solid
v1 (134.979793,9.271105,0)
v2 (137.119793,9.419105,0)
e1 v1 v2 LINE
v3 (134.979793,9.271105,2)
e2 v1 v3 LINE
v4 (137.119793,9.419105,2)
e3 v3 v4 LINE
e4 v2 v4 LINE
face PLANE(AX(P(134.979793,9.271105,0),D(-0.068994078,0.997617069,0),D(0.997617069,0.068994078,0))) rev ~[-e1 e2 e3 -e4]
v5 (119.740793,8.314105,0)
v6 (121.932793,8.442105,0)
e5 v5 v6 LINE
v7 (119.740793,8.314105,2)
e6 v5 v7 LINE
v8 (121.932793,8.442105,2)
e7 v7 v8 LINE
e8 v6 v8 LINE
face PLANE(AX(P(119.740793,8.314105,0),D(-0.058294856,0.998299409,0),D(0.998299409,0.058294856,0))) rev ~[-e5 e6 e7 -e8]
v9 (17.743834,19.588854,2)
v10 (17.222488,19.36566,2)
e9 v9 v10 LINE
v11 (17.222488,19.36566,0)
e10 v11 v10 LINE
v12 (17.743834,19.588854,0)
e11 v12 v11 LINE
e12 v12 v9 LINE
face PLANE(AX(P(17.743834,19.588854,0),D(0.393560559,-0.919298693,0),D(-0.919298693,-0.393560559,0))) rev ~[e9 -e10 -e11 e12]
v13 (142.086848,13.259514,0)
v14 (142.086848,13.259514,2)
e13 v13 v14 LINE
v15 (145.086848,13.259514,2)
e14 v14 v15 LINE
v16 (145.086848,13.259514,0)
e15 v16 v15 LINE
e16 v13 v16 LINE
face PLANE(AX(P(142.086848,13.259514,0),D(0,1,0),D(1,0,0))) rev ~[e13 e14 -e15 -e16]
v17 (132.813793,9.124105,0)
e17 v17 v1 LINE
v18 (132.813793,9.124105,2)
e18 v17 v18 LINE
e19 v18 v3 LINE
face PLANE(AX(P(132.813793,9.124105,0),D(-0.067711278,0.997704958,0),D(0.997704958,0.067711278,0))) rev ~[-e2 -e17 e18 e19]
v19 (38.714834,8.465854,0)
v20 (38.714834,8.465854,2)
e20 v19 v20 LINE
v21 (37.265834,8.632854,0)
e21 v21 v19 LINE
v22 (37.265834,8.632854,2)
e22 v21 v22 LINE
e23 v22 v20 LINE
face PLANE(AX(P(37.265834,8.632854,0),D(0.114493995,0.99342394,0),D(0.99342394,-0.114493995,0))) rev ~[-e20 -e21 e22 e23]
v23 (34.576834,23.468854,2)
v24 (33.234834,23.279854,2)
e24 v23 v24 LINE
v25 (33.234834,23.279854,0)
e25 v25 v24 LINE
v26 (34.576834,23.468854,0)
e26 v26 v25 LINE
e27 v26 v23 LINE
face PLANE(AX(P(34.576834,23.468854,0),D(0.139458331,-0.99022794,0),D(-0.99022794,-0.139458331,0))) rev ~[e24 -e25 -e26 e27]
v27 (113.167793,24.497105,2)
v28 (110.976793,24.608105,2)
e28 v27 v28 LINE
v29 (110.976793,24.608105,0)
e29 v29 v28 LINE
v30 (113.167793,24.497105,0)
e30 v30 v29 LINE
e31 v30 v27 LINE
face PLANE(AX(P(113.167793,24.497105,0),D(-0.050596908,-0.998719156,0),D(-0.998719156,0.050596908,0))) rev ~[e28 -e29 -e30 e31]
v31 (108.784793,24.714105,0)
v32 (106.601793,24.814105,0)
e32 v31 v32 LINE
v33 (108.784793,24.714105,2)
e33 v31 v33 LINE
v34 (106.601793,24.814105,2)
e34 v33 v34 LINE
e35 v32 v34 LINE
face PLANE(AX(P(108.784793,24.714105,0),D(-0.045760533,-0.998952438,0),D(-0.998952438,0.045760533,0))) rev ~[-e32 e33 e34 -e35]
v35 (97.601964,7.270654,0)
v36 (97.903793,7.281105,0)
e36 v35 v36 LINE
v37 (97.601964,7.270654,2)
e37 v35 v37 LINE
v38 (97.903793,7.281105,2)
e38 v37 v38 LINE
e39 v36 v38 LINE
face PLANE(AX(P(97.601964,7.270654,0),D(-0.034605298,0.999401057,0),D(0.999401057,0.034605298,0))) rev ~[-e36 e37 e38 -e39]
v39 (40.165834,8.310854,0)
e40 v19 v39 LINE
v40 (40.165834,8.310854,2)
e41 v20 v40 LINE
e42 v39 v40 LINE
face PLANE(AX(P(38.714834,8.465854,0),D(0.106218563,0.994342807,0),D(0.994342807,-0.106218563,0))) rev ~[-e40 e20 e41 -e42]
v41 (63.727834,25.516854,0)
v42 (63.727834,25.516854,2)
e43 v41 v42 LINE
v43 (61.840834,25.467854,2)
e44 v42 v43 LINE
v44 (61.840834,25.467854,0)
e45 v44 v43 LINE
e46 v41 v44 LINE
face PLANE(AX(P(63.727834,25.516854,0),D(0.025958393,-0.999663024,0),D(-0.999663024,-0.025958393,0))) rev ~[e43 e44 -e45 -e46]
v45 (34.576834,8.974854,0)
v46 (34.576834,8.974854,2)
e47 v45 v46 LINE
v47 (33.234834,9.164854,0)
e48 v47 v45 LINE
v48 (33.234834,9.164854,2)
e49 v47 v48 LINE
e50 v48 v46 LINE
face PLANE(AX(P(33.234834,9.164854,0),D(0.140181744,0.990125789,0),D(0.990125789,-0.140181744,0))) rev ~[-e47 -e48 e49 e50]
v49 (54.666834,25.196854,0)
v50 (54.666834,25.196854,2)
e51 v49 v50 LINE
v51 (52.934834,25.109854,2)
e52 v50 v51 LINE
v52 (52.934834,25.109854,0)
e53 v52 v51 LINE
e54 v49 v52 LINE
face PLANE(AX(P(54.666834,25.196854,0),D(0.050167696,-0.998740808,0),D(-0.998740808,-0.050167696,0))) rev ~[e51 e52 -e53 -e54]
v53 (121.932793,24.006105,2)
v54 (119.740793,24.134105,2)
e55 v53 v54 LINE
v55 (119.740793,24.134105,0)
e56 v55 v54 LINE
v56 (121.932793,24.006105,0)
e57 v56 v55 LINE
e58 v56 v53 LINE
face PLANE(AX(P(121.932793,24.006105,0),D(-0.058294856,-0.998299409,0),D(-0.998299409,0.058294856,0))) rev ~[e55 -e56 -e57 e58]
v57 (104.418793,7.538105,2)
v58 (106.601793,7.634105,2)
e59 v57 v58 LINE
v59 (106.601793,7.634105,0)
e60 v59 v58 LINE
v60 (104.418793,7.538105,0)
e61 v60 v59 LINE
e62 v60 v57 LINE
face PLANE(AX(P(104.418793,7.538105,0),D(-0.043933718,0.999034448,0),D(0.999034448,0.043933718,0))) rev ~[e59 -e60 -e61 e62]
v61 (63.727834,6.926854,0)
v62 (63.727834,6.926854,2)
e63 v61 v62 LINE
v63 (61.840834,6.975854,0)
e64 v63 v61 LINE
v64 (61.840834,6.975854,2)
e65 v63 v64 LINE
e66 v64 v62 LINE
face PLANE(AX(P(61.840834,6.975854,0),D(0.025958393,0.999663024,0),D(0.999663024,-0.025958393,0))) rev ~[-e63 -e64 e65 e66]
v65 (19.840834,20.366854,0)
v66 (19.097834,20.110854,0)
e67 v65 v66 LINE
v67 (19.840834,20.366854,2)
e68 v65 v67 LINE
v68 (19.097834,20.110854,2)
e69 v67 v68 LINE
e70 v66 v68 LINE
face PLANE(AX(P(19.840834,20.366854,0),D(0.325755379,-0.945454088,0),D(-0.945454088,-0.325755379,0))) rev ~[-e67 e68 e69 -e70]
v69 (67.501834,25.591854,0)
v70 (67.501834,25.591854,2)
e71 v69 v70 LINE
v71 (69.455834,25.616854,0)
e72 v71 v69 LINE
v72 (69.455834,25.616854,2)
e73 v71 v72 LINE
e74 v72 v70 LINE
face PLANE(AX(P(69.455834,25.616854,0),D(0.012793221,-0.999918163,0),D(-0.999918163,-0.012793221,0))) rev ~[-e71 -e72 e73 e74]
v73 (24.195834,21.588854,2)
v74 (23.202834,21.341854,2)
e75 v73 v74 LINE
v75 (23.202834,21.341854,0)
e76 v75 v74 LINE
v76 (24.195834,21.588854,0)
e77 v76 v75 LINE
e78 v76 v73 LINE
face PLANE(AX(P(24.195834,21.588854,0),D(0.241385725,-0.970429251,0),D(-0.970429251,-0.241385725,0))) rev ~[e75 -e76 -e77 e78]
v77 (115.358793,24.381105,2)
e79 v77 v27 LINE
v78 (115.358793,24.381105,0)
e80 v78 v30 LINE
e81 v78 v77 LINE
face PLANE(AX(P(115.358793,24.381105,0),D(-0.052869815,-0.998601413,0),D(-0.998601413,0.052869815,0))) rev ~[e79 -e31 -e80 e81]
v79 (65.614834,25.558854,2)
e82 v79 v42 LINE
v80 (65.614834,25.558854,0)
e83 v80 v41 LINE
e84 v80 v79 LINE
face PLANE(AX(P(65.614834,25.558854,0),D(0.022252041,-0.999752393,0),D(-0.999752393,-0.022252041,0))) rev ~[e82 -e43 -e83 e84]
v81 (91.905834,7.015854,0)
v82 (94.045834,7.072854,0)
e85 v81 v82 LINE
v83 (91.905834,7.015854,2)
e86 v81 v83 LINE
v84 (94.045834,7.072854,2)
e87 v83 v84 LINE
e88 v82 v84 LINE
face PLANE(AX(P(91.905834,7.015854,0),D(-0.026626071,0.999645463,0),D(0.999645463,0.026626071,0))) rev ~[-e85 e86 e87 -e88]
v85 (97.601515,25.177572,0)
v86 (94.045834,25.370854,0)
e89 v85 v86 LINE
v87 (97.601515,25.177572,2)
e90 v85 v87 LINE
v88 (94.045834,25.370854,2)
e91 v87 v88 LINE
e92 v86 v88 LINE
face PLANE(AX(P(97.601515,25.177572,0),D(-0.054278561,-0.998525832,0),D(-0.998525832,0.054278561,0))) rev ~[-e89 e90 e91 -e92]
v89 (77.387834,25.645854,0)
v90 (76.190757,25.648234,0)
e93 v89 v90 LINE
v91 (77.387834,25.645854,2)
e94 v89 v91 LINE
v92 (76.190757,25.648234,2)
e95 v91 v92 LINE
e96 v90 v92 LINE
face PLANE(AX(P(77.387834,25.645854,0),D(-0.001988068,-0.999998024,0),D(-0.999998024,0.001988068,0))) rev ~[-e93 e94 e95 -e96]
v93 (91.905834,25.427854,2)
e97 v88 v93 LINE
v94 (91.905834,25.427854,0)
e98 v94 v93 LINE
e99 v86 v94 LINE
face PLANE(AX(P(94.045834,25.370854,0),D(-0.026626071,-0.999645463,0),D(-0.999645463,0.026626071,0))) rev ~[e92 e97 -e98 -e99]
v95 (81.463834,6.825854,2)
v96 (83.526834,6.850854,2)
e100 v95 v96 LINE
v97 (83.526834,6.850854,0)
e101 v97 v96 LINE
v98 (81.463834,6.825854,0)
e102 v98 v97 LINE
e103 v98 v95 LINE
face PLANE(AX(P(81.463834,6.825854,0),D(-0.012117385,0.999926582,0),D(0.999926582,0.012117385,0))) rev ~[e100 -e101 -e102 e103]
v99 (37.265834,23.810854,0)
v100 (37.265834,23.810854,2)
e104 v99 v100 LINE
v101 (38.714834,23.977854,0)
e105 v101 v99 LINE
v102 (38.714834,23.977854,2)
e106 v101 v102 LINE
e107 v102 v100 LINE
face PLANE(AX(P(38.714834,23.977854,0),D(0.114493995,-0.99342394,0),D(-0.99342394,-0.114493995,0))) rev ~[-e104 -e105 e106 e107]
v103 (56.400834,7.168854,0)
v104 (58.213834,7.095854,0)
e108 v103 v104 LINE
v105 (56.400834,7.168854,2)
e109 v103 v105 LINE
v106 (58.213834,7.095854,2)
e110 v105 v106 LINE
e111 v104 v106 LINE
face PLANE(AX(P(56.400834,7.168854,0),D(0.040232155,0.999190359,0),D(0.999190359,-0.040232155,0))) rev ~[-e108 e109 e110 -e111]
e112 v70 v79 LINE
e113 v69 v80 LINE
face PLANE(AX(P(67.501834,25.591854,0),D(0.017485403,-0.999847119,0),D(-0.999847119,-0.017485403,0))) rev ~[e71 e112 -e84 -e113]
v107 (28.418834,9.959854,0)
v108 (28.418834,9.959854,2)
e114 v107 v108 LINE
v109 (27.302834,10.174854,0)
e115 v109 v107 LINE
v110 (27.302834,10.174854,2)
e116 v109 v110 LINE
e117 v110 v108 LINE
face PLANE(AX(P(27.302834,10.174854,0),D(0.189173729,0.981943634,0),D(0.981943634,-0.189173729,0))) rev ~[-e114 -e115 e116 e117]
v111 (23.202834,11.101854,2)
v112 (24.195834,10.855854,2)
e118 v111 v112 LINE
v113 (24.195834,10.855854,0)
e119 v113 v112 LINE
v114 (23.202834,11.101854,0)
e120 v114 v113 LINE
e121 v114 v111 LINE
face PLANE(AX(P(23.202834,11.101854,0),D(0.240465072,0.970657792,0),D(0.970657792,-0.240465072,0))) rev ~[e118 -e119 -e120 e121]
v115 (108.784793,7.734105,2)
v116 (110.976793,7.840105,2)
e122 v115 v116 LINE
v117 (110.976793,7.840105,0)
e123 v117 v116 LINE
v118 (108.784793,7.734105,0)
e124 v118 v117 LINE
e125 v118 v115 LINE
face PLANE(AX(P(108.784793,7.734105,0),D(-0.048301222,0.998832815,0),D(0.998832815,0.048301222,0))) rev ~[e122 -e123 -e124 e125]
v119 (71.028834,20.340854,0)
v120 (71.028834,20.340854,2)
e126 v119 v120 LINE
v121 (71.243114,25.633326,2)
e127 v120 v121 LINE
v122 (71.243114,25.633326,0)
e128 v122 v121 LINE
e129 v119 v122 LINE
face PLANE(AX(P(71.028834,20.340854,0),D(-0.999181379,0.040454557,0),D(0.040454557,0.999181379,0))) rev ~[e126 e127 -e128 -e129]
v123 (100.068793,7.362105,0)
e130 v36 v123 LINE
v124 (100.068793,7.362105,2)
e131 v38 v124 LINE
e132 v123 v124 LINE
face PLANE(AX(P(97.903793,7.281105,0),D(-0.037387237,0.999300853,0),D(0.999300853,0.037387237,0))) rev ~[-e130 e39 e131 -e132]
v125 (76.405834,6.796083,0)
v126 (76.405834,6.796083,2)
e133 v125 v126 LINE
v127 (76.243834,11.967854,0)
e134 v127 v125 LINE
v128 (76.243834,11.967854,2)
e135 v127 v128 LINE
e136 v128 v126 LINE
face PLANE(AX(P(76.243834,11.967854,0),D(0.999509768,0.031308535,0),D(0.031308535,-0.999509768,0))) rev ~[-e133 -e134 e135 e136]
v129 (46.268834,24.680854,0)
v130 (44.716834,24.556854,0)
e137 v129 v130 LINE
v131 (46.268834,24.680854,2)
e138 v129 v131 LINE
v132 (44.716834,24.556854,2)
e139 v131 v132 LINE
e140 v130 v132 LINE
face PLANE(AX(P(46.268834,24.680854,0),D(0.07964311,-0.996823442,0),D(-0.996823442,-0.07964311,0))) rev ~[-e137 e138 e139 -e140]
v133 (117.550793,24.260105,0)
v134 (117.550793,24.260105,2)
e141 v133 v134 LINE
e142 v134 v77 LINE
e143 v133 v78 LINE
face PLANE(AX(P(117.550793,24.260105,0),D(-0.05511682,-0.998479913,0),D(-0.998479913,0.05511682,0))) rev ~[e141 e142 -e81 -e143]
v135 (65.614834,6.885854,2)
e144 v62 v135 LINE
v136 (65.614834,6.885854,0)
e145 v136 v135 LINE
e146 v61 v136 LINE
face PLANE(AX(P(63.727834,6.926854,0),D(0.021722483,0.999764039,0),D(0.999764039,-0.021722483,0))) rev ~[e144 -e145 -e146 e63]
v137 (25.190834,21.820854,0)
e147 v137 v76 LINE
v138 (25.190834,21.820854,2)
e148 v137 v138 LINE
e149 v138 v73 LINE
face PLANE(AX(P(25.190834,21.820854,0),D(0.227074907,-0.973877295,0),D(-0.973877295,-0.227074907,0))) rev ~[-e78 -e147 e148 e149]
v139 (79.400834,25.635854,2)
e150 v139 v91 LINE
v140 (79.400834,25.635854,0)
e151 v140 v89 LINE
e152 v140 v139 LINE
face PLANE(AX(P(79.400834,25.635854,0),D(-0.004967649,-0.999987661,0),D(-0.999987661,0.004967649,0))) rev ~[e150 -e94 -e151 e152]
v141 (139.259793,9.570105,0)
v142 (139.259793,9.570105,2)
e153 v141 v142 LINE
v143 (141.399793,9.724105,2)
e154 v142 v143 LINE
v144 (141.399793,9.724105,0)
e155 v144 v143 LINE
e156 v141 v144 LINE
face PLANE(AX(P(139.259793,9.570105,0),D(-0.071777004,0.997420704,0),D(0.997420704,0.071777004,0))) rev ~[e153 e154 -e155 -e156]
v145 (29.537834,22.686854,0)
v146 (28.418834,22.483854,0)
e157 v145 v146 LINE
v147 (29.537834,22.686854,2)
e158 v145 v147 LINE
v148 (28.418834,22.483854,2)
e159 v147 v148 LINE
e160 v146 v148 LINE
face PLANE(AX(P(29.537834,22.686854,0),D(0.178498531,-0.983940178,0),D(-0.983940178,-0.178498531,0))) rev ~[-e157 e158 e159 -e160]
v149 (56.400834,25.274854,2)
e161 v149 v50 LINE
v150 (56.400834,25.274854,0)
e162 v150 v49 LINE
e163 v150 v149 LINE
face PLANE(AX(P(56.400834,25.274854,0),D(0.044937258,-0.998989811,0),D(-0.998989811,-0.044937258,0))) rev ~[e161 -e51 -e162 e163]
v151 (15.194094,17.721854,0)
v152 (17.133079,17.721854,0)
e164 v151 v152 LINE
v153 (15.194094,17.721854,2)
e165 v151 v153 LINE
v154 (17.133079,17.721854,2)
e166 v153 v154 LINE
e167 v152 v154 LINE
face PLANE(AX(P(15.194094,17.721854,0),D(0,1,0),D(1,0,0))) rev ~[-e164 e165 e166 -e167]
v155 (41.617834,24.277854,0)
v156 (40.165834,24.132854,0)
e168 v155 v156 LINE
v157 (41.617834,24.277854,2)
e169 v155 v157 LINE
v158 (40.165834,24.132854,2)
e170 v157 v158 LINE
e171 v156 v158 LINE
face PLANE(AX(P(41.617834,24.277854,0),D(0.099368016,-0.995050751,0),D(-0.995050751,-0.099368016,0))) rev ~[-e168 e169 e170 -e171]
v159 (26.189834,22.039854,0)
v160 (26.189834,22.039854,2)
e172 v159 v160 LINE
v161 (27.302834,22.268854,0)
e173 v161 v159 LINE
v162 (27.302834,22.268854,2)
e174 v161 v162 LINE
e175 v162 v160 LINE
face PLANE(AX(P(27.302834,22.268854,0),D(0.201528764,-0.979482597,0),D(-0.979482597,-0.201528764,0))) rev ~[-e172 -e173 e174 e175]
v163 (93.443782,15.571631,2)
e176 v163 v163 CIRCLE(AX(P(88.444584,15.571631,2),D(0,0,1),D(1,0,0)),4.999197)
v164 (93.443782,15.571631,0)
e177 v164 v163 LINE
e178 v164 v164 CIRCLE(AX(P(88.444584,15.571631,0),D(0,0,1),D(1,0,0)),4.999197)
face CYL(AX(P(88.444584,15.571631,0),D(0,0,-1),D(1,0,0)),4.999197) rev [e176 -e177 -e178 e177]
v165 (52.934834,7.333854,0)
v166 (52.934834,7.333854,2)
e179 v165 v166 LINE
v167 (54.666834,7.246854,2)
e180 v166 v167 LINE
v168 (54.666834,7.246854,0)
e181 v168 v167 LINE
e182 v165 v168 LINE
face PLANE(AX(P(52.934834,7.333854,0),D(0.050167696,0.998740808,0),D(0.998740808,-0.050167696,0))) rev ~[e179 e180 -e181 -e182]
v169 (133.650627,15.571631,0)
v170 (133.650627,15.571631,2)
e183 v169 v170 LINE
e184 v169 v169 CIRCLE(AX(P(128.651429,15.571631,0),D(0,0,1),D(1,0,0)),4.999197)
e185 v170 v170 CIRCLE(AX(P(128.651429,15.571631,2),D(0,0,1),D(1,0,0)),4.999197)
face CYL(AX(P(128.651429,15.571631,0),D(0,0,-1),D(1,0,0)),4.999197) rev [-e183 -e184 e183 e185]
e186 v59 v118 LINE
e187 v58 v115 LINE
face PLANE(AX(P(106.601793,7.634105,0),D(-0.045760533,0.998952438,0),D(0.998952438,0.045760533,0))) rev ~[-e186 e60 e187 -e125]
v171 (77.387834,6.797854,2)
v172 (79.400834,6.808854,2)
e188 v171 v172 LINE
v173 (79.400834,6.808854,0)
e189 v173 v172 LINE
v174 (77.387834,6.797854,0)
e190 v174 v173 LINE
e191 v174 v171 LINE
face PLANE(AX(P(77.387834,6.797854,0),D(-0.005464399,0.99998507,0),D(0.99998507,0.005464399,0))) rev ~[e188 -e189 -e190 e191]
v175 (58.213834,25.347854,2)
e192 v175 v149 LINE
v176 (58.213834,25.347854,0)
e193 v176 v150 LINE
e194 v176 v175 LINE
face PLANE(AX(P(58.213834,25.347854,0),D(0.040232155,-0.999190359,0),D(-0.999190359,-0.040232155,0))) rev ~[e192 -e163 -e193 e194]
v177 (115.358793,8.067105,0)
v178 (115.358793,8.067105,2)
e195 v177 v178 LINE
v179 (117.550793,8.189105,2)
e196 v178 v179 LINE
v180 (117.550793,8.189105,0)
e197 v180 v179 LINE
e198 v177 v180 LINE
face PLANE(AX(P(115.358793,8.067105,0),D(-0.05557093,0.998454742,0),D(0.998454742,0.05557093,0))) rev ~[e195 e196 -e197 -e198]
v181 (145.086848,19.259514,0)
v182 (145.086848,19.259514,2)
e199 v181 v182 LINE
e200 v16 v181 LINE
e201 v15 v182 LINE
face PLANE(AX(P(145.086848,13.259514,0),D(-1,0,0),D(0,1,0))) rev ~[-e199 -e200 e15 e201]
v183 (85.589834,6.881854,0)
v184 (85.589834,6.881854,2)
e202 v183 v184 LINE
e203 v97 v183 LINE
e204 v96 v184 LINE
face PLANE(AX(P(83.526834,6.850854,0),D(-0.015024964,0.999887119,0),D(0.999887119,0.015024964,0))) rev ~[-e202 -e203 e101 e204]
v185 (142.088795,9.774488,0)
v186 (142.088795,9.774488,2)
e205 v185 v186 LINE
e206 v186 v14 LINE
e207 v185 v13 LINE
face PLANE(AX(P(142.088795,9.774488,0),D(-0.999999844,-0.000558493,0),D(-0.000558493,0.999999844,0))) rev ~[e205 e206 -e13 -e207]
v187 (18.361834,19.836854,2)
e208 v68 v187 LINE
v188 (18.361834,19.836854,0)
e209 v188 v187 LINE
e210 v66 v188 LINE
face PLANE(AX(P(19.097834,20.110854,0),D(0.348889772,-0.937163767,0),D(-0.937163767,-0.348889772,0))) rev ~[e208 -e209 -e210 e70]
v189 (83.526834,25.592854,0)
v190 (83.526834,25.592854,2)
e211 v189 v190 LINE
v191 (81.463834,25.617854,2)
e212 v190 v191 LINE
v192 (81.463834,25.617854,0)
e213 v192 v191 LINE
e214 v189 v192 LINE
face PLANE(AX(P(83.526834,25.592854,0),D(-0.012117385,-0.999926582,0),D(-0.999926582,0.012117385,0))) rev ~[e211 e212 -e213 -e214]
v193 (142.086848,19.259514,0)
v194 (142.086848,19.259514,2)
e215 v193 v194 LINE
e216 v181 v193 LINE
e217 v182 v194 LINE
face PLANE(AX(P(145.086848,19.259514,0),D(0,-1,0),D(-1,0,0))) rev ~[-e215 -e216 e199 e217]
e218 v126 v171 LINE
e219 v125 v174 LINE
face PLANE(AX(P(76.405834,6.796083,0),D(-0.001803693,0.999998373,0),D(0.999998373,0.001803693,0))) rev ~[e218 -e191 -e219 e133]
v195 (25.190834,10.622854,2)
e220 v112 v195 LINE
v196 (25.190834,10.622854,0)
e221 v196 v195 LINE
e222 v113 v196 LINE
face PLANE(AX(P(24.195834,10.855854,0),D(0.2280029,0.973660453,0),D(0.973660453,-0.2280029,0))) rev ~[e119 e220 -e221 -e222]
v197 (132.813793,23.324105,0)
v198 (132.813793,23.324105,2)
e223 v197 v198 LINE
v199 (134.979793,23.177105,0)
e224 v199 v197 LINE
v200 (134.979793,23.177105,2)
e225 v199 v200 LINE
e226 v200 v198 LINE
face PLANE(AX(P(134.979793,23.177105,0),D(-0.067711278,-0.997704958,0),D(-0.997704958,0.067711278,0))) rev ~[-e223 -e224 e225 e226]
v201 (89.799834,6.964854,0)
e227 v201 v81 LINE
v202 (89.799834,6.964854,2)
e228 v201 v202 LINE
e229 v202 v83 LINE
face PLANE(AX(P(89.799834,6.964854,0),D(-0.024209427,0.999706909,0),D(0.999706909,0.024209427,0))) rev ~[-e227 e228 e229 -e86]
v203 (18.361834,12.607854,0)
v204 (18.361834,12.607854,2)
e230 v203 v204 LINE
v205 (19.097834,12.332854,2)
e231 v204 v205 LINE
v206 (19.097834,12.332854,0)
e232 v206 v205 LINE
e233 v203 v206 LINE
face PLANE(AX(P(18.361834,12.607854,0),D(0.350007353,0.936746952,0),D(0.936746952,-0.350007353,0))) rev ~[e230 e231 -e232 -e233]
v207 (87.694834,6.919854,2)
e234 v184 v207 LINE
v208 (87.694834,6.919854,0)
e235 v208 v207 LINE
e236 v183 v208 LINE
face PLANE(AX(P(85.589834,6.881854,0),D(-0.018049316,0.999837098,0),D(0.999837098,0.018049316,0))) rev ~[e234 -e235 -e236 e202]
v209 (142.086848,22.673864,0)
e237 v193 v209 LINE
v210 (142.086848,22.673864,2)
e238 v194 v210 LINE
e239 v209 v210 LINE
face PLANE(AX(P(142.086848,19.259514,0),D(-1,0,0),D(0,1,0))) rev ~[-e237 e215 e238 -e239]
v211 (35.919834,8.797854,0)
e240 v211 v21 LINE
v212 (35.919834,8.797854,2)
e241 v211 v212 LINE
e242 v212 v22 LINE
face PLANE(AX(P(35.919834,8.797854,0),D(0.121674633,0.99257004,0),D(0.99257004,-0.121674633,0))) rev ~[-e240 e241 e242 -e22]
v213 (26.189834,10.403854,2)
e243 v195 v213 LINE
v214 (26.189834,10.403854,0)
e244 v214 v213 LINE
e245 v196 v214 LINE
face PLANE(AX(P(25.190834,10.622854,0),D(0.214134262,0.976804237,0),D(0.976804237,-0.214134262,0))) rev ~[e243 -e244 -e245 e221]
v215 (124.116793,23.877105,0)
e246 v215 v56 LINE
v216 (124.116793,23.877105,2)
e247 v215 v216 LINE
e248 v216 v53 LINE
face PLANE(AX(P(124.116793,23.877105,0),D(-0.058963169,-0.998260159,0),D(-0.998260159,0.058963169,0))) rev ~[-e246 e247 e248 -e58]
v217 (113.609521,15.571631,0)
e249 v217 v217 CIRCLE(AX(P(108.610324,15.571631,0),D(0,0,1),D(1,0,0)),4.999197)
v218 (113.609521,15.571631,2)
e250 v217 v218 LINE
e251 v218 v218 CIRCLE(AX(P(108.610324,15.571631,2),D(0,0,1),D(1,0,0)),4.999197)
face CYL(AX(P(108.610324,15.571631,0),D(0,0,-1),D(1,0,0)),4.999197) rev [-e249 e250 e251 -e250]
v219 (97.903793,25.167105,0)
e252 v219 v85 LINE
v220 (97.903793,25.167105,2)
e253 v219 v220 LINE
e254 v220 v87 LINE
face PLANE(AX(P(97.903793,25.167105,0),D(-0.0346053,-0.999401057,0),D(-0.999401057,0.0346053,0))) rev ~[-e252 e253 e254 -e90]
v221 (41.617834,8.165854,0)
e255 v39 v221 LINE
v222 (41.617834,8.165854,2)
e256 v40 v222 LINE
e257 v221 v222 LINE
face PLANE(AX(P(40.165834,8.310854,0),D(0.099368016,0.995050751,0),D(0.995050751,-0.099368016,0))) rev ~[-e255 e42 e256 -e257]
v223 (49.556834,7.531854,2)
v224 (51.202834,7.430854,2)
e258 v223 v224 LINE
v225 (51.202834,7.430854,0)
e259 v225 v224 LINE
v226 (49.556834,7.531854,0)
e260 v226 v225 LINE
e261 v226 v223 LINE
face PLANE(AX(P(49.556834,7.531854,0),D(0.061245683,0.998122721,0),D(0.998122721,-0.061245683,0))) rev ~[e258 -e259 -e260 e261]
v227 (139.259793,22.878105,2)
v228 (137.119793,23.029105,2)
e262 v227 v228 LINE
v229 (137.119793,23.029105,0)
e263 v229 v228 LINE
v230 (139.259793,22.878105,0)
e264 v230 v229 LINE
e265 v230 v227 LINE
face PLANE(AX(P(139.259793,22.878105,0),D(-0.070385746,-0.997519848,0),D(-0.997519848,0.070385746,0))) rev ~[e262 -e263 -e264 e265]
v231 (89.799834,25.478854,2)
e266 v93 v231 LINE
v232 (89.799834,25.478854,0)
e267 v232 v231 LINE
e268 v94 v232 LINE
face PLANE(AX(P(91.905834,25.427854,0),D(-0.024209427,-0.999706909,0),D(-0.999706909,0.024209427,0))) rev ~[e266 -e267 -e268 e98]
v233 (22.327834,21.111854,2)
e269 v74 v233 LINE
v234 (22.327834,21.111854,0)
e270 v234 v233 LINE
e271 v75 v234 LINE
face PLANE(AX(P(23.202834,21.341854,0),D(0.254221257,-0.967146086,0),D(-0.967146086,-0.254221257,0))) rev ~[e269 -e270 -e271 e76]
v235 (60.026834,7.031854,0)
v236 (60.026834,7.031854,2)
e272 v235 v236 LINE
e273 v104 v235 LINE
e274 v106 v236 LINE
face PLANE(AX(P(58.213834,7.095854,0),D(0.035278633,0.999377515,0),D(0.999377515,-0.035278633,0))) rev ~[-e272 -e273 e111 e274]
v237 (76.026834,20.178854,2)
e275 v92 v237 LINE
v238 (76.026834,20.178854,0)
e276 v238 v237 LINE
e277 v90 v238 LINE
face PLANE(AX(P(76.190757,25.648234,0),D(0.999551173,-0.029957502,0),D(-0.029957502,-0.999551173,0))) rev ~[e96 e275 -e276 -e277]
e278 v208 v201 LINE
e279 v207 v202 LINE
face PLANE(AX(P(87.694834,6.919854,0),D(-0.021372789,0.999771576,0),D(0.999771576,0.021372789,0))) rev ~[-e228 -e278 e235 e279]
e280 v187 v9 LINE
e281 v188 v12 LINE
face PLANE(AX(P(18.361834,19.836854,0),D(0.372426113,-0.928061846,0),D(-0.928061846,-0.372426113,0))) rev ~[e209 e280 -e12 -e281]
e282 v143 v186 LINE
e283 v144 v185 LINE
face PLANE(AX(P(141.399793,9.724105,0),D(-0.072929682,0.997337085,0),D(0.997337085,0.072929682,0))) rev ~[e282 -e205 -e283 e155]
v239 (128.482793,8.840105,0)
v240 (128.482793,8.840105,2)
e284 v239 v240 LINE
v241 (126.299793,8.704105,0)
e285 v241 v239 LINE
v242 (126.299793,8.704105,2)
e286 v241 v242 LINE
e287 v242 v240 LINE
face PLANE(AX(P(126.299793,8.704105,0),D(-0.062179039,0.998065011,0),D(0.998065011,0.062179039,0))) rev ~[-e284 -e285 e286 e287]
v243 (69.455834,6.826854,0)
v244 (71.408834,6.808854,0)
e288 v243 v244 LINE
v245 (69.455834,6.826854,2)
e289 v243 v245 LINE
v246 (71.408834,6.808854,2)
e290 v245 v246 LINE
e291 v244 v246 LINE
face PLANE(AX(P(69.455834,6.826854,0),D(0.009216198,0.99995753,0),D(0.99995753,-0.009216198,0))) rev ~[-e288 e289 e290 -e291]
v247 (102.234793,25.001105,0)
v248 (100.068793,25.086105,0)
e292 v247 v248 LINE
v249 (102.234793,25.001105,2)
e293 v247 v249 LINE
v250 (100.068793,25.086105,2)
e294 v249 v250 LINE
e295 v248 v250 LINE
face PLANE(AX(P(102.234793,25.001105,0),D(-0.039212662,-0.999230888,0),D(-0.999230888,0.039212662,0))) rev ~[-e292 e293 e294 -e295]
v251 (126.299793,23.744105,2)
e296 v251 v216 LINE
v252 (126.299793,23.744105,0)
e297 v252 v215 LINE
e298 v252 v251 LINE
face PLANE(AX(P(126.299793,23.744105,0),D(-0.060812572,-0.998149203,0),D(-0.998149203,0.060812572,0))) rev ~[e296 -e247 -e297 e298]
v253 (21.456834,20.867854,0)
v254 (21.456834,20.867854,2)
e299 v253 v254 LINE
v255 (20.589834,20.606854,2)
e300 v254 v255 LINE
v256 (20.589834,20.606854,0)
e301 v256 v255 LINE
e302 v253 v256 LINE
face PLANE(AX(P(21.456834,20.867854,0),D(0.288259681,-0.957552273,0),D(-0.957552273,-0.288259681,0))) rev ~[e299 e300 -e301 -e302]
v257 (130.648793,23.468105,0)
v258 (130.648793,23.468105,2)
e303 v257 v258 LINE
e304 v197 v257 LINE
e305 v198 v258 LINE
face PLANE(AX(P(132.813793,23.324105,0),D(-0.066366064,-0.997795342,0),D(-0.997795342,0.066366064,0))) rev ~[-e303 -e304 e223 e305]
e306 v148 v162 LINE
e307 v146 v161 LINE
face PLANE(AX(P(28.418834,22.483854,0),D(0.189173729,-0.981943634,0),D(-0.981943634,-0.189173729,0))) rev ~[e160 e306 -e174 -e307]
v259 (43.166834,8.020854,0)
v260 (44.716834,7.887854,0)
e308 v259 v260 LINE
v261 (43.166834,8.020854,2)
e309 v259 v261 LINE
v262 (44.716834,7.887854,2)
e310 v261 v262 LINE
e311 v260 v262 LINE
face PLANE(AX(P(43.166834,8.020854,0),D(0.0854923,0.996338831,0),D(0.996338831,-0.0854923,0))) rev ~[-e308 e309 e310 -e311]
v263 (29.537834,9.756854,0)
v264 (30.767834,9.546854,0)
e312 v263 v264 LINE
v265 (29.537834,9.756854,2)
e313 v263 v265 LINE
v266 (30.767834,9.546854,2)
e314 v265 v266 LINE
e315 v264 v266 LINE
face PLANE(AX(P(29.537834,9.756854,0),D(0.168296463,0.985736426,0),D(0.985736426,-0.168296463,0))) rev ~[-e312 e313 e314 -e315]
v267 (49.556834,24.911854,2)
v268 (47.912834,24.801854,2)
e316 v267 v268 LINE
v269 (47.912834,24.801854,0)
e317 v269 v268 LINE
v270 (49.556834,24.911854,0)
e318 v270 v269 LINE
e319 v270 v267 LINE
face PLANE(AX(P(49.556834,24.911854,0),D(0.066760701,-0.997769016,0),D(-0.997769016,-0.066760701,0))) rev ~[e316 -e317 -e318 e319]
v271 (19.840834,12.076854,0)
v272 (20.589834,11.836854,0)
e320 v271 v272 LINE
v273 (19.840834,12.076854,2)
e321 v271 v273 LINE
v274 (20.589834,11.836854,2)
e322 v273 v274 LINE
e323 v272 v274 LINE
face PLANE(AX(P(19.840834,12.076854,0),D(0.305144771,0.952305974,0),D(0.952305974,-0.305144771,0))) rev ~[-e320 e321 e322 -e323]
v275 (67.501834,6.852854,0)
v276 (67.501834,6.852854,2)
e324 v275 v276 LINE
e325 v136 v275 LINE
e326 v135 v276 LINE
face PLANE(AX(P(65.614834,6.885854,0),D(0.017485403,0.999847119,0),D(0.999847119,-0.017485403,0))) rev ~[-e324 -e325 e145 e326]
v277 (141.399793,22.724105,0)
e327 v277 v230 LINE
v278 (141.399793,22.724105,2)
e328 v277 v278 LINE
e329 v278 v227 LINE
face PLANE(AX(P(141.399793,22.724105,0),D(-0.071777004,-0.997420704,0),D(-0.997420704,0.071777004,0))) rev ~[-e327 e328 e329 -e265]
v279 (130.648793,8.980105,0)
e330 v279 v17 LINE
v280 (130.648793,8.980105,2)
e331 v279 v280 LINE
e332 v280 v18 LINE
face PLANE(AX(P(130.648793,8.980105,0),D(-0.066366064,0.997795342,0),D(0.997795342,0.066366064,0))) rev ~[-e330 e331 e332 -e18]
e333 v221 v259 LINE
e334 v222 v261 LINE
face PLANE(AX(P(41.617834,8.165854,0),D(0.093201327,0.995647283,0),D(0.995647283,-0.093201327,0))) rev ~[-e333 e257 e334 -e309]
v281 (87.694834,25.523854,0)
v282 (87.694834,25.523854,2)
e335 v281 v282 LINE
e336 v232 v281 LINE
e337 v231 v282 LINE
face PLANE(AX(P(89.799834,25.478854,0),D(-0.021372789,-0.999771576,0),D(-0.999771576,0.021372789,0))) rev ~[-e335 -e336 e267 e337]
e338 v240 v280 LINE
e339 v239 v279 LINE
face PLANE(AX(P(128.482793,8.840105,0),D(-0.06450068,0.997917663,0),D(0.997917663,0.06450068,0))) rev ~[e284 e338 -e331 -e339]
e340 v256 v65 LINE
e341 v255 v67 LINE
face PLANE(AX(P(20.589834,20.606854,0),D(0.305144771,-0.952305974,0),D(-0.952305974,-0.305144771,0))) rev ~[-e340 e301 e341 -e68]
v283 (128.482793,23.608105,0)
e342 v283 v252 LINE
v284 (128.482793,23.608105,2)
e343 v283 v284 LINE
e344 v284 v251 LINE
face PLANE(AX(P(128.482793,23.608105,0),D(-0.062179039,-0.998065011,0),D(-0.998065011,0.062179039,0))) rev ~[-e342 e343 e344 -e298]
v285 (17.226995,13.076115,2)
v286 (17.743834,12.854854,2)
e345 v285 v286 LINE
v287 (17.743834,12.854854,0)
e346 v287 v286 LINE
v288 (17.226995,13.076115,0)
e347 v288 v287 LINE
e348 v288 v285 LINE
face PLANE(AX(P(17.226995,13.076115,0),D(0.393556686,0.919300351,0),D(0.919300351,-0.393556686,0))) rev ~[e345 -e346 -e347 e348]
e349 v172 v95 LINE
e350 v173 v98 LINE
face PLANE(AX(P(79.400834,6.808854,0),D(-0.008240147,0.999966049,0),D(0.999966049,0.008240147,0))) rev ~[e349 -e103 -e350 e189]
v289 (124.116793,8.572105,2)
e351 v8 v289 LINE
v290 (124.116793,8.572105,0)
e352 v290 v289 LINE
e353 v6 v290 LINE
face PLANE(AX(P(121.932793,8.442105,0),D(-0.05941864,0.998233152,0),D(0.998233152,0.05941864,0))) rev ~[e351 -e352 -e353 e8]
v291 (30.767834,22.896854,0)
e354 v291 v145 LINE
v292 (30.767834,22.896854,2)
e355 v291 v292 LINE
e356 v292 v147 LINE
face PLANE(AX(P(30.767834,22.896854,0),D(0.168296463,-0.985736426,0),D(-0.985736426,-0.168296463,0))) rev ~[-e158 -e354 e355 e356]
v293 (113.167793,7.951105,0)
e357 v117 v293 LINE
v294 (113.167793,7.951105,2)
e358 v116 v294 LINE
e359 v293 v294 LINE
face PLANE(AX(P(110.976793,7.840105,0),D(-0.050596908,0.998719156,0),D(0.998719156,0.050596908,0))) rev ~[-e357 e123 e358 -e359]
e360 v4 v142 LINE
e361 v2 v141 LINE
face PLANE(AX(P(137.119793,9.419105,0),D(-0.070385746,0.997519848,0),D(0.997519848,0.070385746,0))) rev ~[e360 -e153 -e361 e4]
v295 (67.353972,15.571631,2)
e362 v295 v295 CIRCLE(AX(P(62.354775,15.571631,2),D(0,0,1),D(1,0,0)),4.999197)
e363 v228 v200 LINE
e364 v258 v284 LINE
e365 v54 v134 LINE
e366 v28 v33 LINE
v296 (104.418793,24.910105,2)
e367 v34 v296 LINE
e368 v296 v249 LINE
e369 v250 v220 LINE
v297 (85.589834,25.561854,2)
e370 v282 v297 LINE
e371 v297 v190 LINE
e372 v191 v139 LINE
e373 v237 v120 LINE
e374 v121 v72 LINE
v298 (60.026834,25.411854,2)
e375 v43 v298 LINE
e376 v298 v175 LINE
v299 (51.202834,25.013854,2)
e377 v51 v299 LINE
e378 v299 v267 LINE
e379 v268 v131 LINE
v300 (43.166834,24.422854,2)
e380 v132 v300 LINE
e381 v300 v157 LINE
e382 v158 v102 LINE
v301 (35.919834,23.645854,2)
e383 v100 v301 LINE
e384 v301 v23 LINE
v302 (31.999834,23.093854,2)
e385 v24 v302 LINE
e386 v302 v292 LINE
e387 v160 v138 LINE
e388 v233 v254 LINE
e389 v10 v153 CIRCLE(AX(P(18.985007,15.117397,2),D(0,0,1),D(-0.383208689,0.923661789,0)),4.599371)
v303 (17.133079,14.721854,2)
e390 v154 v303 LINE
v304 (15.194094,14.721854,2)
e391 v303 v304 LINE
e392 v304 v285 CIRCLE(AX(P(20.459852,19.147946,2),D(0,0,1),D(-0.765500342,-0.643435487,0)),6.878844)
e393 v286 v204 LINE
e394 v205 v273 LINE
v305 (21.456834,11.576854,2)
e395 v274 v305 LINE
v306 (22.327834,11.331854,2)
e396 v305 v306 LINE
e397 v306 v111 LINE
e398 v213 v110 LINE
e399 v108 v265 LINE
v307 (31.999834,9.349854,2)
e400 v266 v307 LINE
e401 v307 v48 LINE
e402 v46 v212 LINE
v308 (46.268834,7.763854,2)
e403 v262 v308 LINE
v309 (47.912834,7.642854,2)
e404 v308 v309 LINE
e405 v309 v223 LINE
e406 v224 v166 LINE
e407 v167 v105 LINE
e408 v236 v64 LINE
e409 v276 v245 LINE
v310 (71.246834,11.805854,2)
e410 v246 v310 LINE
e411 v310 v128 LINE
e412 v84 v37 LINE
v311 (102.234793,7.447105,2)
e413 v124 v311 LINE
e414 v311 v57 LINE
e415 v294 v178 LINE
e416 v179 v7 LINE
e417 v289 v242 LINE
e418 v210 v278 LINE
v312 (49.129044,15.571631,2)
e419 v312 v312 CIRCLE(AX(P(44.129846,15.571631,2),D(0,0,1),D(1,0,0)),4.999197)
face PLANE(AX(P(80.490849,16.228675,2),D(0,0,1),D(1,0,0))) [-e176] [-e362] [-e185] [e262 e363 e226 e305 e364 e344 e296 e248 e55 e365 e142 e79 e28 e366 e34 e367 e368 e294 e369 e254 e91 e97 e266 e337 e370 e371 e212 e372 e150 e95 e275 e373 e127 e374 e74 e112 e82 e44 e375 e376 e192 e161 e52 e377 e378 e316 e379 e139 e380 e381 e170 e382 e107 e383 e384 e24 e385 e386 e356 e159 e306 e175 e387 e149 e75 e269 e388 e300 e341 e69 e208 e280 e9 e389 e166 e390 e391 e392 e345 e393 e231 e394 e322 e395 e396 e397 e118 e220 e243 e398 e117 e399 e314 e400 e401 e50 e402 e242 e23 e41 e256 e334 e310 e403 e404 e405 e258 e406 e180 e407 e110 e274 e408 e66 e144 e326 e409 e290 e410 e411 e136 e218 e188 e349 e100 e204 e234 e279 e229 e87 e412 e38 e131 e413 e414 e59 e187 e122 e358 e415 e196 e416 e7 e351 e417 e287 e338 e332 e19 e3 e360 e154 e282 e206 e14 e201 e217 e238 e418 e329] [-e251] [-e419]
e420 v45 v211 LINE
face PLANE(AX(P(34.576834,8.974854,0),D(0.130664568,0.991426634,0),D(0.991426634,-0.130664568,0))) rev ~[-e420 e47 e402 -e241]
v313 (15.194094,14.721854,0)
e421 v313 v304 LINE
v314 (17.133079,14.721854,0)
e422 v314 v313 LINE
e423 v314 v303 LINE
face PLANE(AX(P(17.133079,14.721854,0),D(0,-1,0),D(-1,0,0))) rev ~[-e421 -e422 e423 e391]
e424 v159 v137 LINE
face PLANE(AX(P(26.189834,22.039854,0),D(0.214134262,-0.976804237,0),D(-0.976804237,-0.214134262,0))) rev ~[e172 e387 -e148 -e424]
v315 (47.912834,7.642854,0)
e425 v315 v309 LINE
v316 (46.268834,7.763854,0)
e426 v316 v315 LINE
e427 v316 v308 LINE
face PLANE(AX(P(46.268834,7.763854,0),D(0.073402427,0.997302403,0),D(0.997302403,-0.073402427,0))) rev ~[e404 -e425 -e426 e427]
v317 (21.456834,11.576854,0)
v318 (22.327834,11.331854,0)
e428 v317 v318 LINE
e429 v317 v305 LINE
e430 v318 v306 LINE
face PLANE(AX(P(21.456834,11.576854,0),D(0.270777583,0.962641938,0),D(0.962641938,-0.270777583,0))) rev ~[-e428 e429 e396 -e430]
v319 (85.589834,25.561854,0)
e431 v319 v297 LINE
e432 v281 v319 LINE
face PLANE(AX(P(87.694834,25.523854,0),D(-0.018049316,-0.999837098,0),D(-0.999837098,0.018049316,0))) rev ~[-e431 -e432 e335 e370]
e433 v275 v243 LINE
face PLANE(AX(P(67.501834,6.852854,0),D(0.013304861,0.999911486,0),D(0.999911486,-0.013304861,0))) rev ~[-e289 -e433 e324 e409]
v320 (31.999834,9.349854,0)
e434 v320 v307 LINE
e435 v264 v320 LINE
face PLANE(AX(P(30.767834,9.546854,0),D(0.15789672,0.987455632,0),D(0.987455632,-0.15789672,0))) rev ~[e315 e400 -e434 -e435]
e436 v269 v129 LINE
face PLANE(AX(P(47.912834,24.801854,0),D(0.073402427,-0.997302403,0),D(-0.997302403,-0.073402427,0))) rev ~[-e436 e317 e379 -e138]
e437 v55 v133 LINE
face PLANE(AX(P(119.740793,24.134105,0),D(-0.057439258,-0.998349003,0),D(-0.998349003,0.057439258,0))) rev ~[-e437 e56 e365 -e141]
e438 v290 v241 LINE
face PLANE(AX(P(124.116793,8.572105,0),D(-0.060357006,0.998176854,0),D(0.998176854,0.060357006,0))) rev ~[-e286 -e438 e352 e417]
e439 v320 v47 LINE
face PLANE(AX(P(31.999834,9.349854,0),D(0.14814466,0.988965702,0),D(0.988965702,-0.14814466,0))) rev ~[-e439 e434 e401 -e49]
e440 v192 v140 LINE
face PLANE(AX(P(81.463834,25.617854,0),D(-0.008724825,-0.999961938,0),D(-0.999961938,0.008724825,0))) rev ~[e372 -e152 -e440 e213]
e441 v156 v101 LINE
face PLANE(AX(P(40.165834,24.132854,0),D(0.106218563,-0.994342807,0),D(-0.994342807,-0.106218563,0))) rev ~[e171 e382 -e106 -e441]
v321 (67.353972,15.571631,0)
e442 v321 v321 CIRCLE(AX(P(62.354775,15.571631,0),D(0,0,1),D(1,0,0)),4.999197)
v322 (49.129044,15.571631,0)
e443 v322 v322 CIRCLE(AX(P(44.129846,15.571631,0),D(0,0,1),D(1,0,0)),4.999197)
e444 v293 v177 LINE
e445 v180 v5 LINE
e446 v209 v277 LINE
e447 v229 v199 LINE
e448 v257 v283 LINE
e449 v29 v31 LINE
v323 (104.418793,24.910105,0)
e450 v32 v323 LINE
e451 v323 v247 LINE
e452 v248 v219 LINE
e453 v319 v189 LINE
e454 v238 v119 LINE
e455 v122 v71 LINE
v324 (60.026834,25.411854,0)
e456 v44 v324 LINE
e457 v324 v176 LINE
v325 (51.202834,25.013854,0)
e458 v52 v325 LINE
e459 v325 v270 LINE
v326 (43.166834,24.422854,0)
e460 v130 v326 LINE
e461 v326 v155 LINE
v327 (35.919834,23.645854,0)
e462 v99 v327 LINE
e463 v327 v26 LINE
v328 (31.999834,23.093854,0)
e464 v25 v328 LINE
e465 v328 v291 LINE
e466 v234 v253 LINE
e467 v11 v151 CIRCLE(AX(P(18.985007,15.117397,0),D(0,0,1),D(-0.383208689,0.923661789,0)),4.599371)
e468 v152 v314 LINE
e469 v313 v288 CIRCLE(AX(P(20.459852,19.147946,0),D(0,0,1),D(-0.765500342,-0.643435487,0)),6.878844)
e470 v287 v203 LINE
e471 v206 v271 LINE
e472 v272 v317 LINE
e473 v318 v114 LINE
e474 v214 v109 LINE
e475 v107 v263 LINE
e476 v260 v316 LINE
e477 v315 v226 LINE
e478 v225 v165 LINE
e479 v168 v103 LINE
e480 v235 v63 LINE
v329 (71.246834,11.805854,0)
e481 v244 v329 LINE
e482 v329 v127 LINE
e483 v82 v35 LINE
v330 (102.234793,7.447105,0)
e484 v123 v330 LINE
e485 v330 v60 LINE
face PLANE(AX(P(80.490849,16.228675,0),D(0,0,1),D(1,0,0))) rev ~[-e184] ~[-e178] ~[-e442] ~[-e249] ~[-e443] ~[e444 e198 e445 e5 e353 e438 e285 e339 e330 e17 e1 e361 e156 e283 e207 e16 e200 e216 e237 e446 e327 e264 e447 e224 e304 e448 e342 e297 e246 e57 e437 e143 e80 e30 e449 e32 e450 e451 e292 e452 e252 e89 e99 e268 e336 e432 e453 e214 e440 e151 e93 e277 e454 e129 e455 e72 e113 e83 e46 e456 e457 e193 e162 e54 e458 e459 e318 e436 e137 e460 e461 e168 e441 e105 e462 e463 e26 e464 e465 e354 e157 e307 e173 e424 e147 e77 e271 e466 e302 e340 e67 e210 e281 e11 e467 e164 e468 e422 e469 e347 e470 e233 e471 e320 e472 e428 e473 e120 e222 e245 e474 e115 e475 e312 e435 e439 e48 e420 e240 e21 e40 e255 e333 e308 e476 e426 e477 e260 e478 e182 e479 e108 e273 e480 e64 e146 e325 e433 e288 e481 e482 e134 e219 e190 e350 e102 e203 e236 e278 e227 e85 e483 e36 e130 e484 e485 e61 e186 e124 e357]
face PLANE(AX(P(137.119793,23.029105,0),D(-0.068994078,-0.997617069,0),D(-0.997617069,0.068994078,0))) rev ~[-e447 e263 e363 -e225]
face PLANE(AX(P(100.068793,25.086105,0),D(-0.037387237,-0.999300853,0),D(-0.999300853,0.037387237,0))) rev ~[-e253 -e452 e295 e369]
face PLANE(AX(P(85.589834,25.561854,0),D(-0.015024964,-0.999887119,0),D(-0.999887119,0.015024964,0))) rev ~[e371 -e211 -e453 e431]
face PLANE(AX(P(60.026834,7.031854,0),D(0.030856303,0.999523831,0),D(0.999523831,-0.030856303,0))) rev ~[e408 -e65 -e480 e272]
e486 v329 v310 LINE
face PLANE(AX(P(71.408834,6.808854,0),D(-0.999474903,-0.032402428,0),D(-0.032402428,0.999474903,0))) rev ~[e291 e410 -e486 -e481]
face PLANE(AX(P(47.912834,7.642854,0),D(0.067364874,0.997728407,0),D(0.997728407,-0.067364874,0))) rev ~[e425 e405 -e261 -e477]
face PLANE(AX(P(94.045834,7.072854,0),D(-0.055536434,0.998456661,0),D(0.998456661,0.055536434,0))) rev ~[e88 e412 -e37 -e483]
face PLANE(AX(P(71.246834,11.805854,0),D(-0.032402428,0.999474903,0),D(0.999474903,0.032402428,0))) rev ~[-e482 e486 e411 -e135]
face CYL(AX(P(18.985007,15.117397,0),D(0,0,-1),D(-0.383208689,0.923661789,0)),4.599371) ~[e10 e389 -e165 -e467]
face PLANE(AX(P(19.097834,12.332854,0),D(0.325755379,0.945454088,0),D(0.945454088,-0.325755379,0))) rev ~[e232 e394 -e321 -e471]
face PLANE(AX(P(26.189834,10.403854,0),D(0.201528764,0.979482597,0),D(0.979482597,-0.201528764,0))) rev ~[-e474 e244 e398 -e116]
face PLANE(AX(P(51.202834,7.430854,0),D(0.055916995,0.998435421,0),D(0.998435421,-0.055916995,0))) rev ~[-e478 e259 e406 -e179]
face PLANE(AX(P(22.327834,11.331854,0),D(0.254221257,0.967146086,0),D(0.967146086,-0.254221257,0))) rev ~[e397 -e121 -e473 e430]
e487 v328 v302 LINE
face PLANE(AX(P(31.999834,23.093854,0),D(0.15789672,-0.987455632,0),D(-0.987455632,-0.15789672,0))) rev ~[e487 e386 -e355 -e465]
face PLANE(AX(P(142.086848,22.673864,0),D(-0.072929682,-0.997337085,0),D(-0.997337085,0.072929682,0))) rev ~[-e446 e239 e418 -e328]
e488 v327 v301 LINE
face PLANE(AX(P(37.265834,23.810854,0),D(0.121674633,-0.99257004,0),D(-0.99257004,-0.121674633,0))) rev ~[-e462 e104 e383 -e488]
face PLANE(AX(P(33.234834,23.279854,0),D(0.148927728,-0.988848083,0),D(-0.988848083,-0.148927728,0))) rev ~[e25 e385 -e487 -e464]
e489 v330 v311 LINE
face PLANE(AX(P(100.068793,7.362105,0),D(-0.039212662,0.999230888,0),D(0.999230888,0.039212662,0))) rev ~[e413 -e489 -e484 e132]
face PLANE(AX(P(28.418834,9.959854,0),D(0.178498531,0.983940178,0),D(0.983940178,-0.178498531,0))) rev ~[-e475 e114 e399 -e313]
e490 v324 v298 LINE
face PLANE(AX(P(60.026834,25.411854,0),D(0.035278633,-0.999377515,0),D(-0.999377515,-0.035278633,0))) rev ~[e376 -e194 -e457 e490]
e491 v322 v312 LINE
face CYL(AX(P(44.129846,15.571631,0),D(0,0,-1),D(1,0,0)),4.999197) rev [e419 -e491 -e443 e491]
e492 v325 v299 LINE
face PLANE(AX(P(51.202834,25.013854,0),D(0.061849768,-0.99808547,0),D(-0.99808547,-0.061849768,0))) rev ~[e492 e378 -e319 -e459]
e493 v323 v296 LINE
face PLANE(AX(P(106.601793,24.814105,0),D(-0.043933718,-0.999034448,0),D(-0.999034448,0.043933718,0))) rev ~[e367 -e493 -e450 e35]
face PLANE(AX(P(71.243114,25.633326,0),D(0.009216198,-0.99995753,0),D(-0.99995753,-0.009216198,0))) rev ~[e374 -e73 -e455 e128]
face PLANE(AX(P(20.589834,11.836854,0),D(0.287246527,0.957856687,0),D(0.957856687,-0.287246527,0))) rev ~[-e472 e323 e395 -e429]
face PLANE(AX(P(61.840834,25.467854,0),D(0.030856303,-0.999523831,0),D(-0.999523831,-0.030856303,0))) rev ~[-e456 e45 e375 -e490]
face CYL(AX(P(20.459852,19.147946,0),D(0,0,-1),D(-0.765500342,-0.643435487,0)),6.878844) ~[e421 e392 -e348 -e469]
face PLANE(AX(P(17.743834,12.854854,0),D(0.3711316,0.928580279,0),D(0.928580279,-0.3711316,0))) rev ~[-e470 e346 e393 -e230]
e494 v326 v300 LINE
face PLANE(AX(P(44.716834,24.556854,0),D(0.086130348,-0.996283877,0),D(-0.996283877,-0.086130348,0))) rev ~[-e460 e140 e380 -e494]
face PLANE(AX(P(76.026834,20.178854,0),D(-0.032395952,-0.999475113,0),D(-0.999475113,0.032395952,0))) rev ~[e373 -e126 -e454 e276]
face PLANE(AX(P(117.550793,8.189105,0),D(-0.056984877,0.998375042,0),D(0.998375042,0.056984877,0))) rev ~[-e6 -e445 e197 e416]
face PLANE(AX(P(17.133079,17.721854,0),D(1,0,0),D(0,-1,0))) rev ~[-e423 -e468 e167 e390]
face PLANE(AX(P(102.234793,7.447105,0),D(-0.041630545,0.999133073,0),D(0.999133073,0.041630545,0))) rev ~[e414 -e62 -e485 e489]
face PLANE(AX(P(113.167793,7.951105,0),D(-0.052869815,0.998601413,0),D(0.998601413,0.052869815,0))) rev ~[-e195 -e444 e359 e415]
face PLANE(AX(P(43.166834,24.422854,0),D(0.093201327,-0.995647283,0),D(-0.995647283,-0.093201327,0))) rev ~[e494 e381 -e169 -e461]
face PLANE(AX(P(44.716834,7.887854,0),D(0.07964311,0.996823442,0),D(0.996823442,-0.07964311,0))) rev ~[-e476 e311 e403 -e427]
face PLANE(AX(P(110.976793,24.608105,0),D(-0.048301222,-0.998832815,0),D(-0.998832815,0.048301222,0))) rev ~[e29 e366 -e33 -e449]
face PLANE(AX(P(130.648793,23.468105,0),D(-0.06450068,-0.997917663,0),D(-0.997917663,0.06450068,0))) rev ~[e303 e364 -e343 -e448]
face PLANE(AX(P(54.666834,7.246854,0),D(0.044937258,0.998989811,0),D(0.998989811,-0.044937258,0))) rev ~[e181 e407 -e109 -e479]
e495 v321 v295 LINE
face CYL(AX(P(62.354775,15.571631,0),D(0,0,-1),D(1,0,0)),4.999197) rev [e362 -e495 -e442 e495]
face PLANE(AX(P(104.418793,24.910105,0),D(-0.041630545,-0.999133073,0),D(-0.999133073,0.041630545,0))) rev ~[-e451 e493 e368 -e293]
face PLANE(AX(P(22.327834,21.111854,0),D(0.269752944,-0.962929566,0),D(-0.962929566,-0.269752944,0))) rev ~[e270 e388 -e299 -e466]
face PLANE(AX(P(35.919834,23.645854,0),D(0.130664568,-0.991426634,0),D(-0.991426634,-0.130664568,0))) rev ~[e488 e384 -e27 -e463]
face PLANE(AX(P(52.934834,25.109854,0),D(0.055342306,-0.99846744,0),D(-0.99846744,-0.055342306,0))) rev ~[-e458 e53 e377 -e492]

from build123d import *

# Parameters (mm, degrees)
MODEL_R         = 4.999197418
EXTRUDE_1_DEPTH = 2


with BuildPart() as part:
    # Model → 凸台-拉伸1 (new body)
    with BuildSketch(Plane.XY):
        with BuildLine():
            Line((15.194094226, 17.721853744), (17.133079466, 17.721853744))
            Line((17.133079466, 17.721853744), (17.133079466, 14.721853744))
            Line((17.133079466, 14.721853744), (15.194094226, 14.721853744))
            ThreePointArc((15.194094226, 14.721853744), (16.131604287, 13.801473468), (17.226994751, 13.076115145))
            Line((17.226994751, 13.076115145), (17.74383436, 12.854853744))
            Line((17.74383436, 12.854853744), (18.36183436, 12.607853744))
            Line((18.36183436, 12.607853744), (19.09783436, 12.332853744))
            Line((19.09783436, 12.332853744), (19.84083436, 12.076853744))
            Line((19.84083436, 12.076853744), (20.58983436, 11.836853744))
            Line((20.58983436, 11.836853744), (21.45683436, 11.576853744))
            Line((21.45683436, 11.576853744), (22.32783436, 11.331853744))
            Line((22.32783436, 11.331853744), (23.20283436, 11.101853744))
            Line((23.20283436, 11.101853744), (24.19583436, 10.855853744))
            Line((24.19583436, 10.855853744), (25.19083436, 10.622853744))
            Line((25.19083436, 10.622853744), (26.18983436, 10.403853744))
            Line((26.18983436, 10.403853744), (27.30283436, 10.174853744))
            Line((27.30283436, 10.174853744), (28.41883436, 9.959853744))
            Line((28.41883436, 9.959853744), (29.53783436, 9.756853744))
            Line((29.53783436, 9.756853744), (30.76783436, 9.546853744))
            Line((30.76783436, 9.546853744), (31.99983436, 9.349853744))
            Line((31.99983436, 9.349853744), (33.23483436, 9.164853744))
            Line((33.23483436, 9.164853744), (34.57683436, 8.974853744))
            Line((34.57683436, 8.974853744), (35.91983436, 8.797853744))
            Line((35.91983436, 8.797853744), (37.26583436, 8.632853744))
            Line((37.26583436, 8.632853744), (38.71483436, 8.465853744))
            Line((38.71483436, 8.465853744), (40.16583436, 8.310853744))
            Line((40.16583436, 8.310853744), (41.61783436, 8.165853744))
            Line((41.61783436, 8.165853744), (43.16683436, 8.020853744))
            Line((43.16683436, 8.020853744), (44.71683436, 7.887853744))
            Line((44.71683436, 7.887853744), (46.26883436, 7.763853744))
            Line((46.26883436, 7.763853744), (47.91283436, 7.642853744))
            Line((47.91283436, 7.642853744), (49.55683436, 7.531853744))
            Line((49.55683436, 7.531853744), (51.20283436, 7.430853744))
            Line((51.20283436, 7.430853744), (52.93483436, 7.333853744))
            Line((52.93483436, 7.333853744), (54.66683436, 7.246853744))
            Line((54.66683436, 7.246853744), (56.40083436, 7.168853744))
            Line((56.40083436, 7.168853744), (58.21383436, 7.095853744))
            Line((58.21383436, 7.095853744), (60.02683436, 7.031853744))
            Line((60.02683436, 7.031853744), (61.84083436, 6.975853744))
            Line((61.84083436, 6.975853744), (63.72783436, 6.926853744))
            Line((63.72783436, 6.926853744), (65.61483436, 6.885853744))
            Line((65.61483436, 6.885853744), (67.50183436, 6.852853744))
            Line((67.50183436, 6.852853744), (69.45583436, 6.826853744))
            Line((69.45583436, 6.826853744), (71.40883436, 6.808853744))
            Line((71.40883436, 6.808853744), (71.24683436, 11.805853744))
            Line((71.24683436, 11.805853744), (76.24383436, 11.967853744))
            Line((76.24383436, 11.967853744), (76.40583436, 6.796082515))
            Line((76.40583436, 6.796082515), (77.38783436, 6.797853744))
            Line((77.38783436, 6.797853744), (79.40083436, 6.808853744))
            Line((79.40083436, 6.808853744), (81.46383436, 6.825853744))
            Line((81.46383436, 6.825853744), (83.52683436, 6.850853744))
            Line((83.52683436, 6.850853744), (85.58983436, 6.881853744))
            Line((85.58983436, 6.881853744), (87.69483436, 6.919853744))
            Line((87.69483436, 6.919853744), (89.79983436, 6.964853744))
            Line((89.79983436, 6.964853744), (91.90583436, 7.015853744))
            Line((91.90583436, 7.015853744), (94.04583436, 7.072853744))
            Line((94.04583436, 7.072853744), (97.601964333, 7.270653793))
            Line((97.601964333, 7.270653793), (97.90379269, 7.281104913))
            Line((97.90379269, 7.281104913), (100.06879269, 7.362104913))
            Line((100.06879269, 7.362104913), (102.23479269, 7.447104913))
            Line((102.23479269, 7.447104913), (104.41879269, 7.538104913))
            Line((104.41879269, 7.538104913), (106.60179269, 7.634104913))
            Line((106.60179269, 7.634104913), (108.78479269, 7.734104913))
            Line((108.78479269, 7.734104913), (110.97679269, 7.840104913))
            Line((110.97679269, 7.840104913), (113.16779269, 7.951104913))
            Line((113.16779269, 7.951104913), (115.35879269, 8.067104913))
            Line((115.35879269, 8.067104913), (117.55079269, 8.189104913))
            Line((117.55079269, 8.189104913), (119.74079269, 8.314104913))
            Line((119.74079269, 8.314104913), (121.93279269, 8.442104913))
            Line((121.93279269, 8.442104913), (124.11679269, 8.572104913))
            Line((124.11679269, 8.572104913), (126.29979269, 8.704104913))
            Line((126.29979269, 8.704104913), (128.48279269, 8.840104913))
            Line((128.48279269, 8.840104913), (130.64879269, 8.980104913))
            Line((130.64879269, 8.980104913), (132.81379269, 9.124104913))
            Line((132.81379269, 9.124104913), (134.97979269, 9.271104913))
            Line((134.97979269, 9.271104913), (137.11979269, 9.419104913))
            Line((137.11979269, 9.419104913), (139.25979269, 9.570104913))
            Line((139.25979269, 9.570104913), (141.39979269, 9.724104913))
            Line((141.39979269, 9.724104913), (142.088794604, 9.774487769))
            Line((142.088794604, 9.774487769), (142.086848241, 13.259514384))
            Line((142.086848241, 13.259514384), (145.086848241, 13.259514384))
            Line((145.086848241, 13.259514384), (145.086848241, 19.259514384))
            Line((145.086848241, 19.259514384), (142.086848241, 19.259514384))
            Line((142.086848241, 19.259514384), (142.086848241, 22.673864384))
            Line((142.086848241, 22.673864384), (141.39979269, 22.724104913))
            Line((141.39979269, 22.724104913), (139.25979269, 22.878104913))
            Line((139.25979269, 22.878104913), (137.11979269, 23.029104913))
            Line((137.11979269, 23.029104913), (134.97979269, 23.177104913))
            Line((134.97979269, 23.177104913), (132.81379269, 23.324104913))
            Line((132.81379269, 23.324104913), (130.64879269, 23.468104913))
            Line((130.64879269, 23.468104913), (128.48279269, 23.608104913))
            Line((128.48279269, 23.608104913), (126.29979269, 23.744104913))
            Line((126.29979269, 23.744104913), (124.11679269, 23.877104913))
            Line((124.11679269, 23.877104913), (121.93279269, 24.006104913))
            Line((121.93279269, 24.006104913), (119.74079269, 24.134104913))
            Line((119.74079269, 24.134104913), (117.55079269, 24.260104913))
            Line((117.55079269, 24.260104913), (115.35879269, 24.381104913))
            Line((115.35879269, 24.381104913), (113.16779269, 24.497104913))
            Line((113.16779269, 24.497104913), (110.97679269, 24.608104913))
            Line((110.97679269, 24.608104913), (108.78479269, 24.714104913))
            Line((108.78479269, 24.714104913), (106.60179269, 24.814104913))
            Line((106.60179269, 24.814104913), (104.41879269, 24.910104913))
            Line((104.41879269, 24.910104913), (102.23479269, 25.001104913))
            Line((102.23479269, 25.001104913), (100.06879269, 25.086104913))
            Line((100.06879269, 25.086104913), (97.90379269, 25.167104913))
            Line((97.90379269, 25.167104913), (97.601514741, 25.177571601))
            Line((97.601514741, 25.177571601), (94.04583436, 25.370853744))
            Line((94.04583436, 25.370853744), (91.90583436, 25.427853744))
            Line((91.90583436, 25.427853744), (89.79983436, 25.478853744))
            Line((89.79983436, 25.478853744), (87.69483436, 25.523853744))
            Line((87.69483436, 25.523853744), (85.58983436, 25.561853744))
            Line((85.58983436, 25.561853744), (83.52683436, 25.592853744))
            Line((83.52683436, 25.592853744), (81.46383436, 25.617853744))
            Line((81.46383436, 25.617853744), (79.40083436, 25.635853744))
            Line((79.40083436, 25.635853744), (77.38783436, 25.645853744))
            Line((77.38783436, 25.645853744), (76.190756889, 25.64823362))
            Line((76.190756889, 25.64823362), (76.02683436, 20.178853744))
            Line((76.02683436, 20.178853744), (71.02883436, 20.340853744))
            Line((71.02883436, 20.340853744), (71.243114412, 25.633326371))
            Line((71.243114412, 25.633326371), (69.45583436, 25.616853744))
            Line((69.45583436, 25.616853744), (67.50183436, 25.591853744))
            Line((67.50183436, 25.591853744), (65.61483436, 25.558853744))
            Line((65.61483436, 25.558853744), (63.72783436, 25.516853744))
            Line((63.72783436, 25.516853744), (61.84083436, 25.467853744))
            Line((61.84083436, 25.467853744), (60.02683436, 25.411853744))
            Line((60.02683436, 25.411853744), (58.21383436, 25.347853744))
            Line((58.21383436, 25.347853744), (56.40083436, 25.274853744))
            Line((56.40083436, 25.274853744), (54.66683436, 25.196853744))
            Line((54.66683436, 25.196853744), (52.93483436, 25.109853744))
            Line((52.93483436, 25.109853744), (51.20283436, 25.013853744))
            Line((51.20283436, 25.013853744), (49.55683436, 24.911853744))
            Line((49.55683436, 24.911853744), (47.91283436, 24.801853744))
            Line((47.91283436, 24.801853744), (46.26883436, 24.680853744))
            Line((46.26883436, 24.680853744), (44.71683436, 24.556853744))
            Line((44.71683436, 24.556853744), (43.16683436, 24.422853744))
            Line((43.16683436, 24.422853744), (41.61783436, 24.277853744))
            Line((41.61783436, 24.277853744), (40.16583436, 24.132853744))
            Line((40.16583436, 24.132853744), (38.71483436, 23.977853744))
            Line((38.71483436, 23.977853744), (37.26583436, 23.810853744))
            Line((37.26583436, 23.810853744), (35.91983436, 23.645853744))
            Line((35.91983436, 23.645853744), (34.57683436, 23.468853744))
            Line((34.57683436, 23.468853744), (33.23483436, 23.279853744))
            Line((33.23483436, 23.279853744), (31.99983436, 23.093853744))
            Line((31.99983436, 23.093853744), (30.76783436, 22.896853744))
            Line((30.76783436, 22.896853744), (29.53783436, 22.686853744))
            Line((29.53783436, 22.686853744), (28.41883436, 22.483853744))
            Line((28.41883436, 22.483853744), (27.30283436, 22.268853744))
            Line((27.30283436, 22.268853744), (26.18983436, 22.039853744))
            Line((26.18983436, 22.039853744), (25.19083436, 21.820853744))
            Line((25.19083436, 21.820853744), (24.19583436, 21.588853744))
            Line((24.19583436, 21.588853744), (23.20283436, 21.341853744))
            Line((23.20283436, 21.341853744), (22.32783436, 21.111853744))
            Line((22.32783436, 21.111853744), (21.45683436, 20.867853744))
            Line((21.45683436, 20.867853744), (20.58983436, 20.606853744))
            Line((20.58983436, 20.606853744), (19.84083436, 20.366853744))
            Line((19.84083436, 20.366853744), (19.09783436, 20.110853744))
            Line((19.09783436, 20.110853744), (18.36183436, 19.836853744))
            Line((18.36183436, 19.836853744), (17.74383436, 19.588853744))
            Line((17.74383436, 19.588853744), (17.222488144, 19.365660445))
            ThreePointArc((17.222488144, 19.365660445), (16.089203867, 18.690706241), (15.194094226, 17.721853744))
        make_face()
        with Locations((62.354774691, 15.571631352)):
            Circle(MODEL_R, mode=Mode.SUBTRACT)
        with Locations((88.444584336, 15.571631352)):
            Circle(MODEL_R, mode=Mode.SUBTRACT)
        with Locations((108.610323656, 15.571631352)):
            Circle(MODEL_R, mode=Mode.SUBTRACT)
        with Locations((128.651429135, 15.571631352)):
            Circle(MODEL_R, mode=Mode.SUBTRACT)
        with Locations((44.129846481, 15.571631352)):
            Circle(MODEL_R, mode=Mode.SUBTRACT)
    extrude(amount=EXTRUDE_1_DEPTH)


solid = part.part
